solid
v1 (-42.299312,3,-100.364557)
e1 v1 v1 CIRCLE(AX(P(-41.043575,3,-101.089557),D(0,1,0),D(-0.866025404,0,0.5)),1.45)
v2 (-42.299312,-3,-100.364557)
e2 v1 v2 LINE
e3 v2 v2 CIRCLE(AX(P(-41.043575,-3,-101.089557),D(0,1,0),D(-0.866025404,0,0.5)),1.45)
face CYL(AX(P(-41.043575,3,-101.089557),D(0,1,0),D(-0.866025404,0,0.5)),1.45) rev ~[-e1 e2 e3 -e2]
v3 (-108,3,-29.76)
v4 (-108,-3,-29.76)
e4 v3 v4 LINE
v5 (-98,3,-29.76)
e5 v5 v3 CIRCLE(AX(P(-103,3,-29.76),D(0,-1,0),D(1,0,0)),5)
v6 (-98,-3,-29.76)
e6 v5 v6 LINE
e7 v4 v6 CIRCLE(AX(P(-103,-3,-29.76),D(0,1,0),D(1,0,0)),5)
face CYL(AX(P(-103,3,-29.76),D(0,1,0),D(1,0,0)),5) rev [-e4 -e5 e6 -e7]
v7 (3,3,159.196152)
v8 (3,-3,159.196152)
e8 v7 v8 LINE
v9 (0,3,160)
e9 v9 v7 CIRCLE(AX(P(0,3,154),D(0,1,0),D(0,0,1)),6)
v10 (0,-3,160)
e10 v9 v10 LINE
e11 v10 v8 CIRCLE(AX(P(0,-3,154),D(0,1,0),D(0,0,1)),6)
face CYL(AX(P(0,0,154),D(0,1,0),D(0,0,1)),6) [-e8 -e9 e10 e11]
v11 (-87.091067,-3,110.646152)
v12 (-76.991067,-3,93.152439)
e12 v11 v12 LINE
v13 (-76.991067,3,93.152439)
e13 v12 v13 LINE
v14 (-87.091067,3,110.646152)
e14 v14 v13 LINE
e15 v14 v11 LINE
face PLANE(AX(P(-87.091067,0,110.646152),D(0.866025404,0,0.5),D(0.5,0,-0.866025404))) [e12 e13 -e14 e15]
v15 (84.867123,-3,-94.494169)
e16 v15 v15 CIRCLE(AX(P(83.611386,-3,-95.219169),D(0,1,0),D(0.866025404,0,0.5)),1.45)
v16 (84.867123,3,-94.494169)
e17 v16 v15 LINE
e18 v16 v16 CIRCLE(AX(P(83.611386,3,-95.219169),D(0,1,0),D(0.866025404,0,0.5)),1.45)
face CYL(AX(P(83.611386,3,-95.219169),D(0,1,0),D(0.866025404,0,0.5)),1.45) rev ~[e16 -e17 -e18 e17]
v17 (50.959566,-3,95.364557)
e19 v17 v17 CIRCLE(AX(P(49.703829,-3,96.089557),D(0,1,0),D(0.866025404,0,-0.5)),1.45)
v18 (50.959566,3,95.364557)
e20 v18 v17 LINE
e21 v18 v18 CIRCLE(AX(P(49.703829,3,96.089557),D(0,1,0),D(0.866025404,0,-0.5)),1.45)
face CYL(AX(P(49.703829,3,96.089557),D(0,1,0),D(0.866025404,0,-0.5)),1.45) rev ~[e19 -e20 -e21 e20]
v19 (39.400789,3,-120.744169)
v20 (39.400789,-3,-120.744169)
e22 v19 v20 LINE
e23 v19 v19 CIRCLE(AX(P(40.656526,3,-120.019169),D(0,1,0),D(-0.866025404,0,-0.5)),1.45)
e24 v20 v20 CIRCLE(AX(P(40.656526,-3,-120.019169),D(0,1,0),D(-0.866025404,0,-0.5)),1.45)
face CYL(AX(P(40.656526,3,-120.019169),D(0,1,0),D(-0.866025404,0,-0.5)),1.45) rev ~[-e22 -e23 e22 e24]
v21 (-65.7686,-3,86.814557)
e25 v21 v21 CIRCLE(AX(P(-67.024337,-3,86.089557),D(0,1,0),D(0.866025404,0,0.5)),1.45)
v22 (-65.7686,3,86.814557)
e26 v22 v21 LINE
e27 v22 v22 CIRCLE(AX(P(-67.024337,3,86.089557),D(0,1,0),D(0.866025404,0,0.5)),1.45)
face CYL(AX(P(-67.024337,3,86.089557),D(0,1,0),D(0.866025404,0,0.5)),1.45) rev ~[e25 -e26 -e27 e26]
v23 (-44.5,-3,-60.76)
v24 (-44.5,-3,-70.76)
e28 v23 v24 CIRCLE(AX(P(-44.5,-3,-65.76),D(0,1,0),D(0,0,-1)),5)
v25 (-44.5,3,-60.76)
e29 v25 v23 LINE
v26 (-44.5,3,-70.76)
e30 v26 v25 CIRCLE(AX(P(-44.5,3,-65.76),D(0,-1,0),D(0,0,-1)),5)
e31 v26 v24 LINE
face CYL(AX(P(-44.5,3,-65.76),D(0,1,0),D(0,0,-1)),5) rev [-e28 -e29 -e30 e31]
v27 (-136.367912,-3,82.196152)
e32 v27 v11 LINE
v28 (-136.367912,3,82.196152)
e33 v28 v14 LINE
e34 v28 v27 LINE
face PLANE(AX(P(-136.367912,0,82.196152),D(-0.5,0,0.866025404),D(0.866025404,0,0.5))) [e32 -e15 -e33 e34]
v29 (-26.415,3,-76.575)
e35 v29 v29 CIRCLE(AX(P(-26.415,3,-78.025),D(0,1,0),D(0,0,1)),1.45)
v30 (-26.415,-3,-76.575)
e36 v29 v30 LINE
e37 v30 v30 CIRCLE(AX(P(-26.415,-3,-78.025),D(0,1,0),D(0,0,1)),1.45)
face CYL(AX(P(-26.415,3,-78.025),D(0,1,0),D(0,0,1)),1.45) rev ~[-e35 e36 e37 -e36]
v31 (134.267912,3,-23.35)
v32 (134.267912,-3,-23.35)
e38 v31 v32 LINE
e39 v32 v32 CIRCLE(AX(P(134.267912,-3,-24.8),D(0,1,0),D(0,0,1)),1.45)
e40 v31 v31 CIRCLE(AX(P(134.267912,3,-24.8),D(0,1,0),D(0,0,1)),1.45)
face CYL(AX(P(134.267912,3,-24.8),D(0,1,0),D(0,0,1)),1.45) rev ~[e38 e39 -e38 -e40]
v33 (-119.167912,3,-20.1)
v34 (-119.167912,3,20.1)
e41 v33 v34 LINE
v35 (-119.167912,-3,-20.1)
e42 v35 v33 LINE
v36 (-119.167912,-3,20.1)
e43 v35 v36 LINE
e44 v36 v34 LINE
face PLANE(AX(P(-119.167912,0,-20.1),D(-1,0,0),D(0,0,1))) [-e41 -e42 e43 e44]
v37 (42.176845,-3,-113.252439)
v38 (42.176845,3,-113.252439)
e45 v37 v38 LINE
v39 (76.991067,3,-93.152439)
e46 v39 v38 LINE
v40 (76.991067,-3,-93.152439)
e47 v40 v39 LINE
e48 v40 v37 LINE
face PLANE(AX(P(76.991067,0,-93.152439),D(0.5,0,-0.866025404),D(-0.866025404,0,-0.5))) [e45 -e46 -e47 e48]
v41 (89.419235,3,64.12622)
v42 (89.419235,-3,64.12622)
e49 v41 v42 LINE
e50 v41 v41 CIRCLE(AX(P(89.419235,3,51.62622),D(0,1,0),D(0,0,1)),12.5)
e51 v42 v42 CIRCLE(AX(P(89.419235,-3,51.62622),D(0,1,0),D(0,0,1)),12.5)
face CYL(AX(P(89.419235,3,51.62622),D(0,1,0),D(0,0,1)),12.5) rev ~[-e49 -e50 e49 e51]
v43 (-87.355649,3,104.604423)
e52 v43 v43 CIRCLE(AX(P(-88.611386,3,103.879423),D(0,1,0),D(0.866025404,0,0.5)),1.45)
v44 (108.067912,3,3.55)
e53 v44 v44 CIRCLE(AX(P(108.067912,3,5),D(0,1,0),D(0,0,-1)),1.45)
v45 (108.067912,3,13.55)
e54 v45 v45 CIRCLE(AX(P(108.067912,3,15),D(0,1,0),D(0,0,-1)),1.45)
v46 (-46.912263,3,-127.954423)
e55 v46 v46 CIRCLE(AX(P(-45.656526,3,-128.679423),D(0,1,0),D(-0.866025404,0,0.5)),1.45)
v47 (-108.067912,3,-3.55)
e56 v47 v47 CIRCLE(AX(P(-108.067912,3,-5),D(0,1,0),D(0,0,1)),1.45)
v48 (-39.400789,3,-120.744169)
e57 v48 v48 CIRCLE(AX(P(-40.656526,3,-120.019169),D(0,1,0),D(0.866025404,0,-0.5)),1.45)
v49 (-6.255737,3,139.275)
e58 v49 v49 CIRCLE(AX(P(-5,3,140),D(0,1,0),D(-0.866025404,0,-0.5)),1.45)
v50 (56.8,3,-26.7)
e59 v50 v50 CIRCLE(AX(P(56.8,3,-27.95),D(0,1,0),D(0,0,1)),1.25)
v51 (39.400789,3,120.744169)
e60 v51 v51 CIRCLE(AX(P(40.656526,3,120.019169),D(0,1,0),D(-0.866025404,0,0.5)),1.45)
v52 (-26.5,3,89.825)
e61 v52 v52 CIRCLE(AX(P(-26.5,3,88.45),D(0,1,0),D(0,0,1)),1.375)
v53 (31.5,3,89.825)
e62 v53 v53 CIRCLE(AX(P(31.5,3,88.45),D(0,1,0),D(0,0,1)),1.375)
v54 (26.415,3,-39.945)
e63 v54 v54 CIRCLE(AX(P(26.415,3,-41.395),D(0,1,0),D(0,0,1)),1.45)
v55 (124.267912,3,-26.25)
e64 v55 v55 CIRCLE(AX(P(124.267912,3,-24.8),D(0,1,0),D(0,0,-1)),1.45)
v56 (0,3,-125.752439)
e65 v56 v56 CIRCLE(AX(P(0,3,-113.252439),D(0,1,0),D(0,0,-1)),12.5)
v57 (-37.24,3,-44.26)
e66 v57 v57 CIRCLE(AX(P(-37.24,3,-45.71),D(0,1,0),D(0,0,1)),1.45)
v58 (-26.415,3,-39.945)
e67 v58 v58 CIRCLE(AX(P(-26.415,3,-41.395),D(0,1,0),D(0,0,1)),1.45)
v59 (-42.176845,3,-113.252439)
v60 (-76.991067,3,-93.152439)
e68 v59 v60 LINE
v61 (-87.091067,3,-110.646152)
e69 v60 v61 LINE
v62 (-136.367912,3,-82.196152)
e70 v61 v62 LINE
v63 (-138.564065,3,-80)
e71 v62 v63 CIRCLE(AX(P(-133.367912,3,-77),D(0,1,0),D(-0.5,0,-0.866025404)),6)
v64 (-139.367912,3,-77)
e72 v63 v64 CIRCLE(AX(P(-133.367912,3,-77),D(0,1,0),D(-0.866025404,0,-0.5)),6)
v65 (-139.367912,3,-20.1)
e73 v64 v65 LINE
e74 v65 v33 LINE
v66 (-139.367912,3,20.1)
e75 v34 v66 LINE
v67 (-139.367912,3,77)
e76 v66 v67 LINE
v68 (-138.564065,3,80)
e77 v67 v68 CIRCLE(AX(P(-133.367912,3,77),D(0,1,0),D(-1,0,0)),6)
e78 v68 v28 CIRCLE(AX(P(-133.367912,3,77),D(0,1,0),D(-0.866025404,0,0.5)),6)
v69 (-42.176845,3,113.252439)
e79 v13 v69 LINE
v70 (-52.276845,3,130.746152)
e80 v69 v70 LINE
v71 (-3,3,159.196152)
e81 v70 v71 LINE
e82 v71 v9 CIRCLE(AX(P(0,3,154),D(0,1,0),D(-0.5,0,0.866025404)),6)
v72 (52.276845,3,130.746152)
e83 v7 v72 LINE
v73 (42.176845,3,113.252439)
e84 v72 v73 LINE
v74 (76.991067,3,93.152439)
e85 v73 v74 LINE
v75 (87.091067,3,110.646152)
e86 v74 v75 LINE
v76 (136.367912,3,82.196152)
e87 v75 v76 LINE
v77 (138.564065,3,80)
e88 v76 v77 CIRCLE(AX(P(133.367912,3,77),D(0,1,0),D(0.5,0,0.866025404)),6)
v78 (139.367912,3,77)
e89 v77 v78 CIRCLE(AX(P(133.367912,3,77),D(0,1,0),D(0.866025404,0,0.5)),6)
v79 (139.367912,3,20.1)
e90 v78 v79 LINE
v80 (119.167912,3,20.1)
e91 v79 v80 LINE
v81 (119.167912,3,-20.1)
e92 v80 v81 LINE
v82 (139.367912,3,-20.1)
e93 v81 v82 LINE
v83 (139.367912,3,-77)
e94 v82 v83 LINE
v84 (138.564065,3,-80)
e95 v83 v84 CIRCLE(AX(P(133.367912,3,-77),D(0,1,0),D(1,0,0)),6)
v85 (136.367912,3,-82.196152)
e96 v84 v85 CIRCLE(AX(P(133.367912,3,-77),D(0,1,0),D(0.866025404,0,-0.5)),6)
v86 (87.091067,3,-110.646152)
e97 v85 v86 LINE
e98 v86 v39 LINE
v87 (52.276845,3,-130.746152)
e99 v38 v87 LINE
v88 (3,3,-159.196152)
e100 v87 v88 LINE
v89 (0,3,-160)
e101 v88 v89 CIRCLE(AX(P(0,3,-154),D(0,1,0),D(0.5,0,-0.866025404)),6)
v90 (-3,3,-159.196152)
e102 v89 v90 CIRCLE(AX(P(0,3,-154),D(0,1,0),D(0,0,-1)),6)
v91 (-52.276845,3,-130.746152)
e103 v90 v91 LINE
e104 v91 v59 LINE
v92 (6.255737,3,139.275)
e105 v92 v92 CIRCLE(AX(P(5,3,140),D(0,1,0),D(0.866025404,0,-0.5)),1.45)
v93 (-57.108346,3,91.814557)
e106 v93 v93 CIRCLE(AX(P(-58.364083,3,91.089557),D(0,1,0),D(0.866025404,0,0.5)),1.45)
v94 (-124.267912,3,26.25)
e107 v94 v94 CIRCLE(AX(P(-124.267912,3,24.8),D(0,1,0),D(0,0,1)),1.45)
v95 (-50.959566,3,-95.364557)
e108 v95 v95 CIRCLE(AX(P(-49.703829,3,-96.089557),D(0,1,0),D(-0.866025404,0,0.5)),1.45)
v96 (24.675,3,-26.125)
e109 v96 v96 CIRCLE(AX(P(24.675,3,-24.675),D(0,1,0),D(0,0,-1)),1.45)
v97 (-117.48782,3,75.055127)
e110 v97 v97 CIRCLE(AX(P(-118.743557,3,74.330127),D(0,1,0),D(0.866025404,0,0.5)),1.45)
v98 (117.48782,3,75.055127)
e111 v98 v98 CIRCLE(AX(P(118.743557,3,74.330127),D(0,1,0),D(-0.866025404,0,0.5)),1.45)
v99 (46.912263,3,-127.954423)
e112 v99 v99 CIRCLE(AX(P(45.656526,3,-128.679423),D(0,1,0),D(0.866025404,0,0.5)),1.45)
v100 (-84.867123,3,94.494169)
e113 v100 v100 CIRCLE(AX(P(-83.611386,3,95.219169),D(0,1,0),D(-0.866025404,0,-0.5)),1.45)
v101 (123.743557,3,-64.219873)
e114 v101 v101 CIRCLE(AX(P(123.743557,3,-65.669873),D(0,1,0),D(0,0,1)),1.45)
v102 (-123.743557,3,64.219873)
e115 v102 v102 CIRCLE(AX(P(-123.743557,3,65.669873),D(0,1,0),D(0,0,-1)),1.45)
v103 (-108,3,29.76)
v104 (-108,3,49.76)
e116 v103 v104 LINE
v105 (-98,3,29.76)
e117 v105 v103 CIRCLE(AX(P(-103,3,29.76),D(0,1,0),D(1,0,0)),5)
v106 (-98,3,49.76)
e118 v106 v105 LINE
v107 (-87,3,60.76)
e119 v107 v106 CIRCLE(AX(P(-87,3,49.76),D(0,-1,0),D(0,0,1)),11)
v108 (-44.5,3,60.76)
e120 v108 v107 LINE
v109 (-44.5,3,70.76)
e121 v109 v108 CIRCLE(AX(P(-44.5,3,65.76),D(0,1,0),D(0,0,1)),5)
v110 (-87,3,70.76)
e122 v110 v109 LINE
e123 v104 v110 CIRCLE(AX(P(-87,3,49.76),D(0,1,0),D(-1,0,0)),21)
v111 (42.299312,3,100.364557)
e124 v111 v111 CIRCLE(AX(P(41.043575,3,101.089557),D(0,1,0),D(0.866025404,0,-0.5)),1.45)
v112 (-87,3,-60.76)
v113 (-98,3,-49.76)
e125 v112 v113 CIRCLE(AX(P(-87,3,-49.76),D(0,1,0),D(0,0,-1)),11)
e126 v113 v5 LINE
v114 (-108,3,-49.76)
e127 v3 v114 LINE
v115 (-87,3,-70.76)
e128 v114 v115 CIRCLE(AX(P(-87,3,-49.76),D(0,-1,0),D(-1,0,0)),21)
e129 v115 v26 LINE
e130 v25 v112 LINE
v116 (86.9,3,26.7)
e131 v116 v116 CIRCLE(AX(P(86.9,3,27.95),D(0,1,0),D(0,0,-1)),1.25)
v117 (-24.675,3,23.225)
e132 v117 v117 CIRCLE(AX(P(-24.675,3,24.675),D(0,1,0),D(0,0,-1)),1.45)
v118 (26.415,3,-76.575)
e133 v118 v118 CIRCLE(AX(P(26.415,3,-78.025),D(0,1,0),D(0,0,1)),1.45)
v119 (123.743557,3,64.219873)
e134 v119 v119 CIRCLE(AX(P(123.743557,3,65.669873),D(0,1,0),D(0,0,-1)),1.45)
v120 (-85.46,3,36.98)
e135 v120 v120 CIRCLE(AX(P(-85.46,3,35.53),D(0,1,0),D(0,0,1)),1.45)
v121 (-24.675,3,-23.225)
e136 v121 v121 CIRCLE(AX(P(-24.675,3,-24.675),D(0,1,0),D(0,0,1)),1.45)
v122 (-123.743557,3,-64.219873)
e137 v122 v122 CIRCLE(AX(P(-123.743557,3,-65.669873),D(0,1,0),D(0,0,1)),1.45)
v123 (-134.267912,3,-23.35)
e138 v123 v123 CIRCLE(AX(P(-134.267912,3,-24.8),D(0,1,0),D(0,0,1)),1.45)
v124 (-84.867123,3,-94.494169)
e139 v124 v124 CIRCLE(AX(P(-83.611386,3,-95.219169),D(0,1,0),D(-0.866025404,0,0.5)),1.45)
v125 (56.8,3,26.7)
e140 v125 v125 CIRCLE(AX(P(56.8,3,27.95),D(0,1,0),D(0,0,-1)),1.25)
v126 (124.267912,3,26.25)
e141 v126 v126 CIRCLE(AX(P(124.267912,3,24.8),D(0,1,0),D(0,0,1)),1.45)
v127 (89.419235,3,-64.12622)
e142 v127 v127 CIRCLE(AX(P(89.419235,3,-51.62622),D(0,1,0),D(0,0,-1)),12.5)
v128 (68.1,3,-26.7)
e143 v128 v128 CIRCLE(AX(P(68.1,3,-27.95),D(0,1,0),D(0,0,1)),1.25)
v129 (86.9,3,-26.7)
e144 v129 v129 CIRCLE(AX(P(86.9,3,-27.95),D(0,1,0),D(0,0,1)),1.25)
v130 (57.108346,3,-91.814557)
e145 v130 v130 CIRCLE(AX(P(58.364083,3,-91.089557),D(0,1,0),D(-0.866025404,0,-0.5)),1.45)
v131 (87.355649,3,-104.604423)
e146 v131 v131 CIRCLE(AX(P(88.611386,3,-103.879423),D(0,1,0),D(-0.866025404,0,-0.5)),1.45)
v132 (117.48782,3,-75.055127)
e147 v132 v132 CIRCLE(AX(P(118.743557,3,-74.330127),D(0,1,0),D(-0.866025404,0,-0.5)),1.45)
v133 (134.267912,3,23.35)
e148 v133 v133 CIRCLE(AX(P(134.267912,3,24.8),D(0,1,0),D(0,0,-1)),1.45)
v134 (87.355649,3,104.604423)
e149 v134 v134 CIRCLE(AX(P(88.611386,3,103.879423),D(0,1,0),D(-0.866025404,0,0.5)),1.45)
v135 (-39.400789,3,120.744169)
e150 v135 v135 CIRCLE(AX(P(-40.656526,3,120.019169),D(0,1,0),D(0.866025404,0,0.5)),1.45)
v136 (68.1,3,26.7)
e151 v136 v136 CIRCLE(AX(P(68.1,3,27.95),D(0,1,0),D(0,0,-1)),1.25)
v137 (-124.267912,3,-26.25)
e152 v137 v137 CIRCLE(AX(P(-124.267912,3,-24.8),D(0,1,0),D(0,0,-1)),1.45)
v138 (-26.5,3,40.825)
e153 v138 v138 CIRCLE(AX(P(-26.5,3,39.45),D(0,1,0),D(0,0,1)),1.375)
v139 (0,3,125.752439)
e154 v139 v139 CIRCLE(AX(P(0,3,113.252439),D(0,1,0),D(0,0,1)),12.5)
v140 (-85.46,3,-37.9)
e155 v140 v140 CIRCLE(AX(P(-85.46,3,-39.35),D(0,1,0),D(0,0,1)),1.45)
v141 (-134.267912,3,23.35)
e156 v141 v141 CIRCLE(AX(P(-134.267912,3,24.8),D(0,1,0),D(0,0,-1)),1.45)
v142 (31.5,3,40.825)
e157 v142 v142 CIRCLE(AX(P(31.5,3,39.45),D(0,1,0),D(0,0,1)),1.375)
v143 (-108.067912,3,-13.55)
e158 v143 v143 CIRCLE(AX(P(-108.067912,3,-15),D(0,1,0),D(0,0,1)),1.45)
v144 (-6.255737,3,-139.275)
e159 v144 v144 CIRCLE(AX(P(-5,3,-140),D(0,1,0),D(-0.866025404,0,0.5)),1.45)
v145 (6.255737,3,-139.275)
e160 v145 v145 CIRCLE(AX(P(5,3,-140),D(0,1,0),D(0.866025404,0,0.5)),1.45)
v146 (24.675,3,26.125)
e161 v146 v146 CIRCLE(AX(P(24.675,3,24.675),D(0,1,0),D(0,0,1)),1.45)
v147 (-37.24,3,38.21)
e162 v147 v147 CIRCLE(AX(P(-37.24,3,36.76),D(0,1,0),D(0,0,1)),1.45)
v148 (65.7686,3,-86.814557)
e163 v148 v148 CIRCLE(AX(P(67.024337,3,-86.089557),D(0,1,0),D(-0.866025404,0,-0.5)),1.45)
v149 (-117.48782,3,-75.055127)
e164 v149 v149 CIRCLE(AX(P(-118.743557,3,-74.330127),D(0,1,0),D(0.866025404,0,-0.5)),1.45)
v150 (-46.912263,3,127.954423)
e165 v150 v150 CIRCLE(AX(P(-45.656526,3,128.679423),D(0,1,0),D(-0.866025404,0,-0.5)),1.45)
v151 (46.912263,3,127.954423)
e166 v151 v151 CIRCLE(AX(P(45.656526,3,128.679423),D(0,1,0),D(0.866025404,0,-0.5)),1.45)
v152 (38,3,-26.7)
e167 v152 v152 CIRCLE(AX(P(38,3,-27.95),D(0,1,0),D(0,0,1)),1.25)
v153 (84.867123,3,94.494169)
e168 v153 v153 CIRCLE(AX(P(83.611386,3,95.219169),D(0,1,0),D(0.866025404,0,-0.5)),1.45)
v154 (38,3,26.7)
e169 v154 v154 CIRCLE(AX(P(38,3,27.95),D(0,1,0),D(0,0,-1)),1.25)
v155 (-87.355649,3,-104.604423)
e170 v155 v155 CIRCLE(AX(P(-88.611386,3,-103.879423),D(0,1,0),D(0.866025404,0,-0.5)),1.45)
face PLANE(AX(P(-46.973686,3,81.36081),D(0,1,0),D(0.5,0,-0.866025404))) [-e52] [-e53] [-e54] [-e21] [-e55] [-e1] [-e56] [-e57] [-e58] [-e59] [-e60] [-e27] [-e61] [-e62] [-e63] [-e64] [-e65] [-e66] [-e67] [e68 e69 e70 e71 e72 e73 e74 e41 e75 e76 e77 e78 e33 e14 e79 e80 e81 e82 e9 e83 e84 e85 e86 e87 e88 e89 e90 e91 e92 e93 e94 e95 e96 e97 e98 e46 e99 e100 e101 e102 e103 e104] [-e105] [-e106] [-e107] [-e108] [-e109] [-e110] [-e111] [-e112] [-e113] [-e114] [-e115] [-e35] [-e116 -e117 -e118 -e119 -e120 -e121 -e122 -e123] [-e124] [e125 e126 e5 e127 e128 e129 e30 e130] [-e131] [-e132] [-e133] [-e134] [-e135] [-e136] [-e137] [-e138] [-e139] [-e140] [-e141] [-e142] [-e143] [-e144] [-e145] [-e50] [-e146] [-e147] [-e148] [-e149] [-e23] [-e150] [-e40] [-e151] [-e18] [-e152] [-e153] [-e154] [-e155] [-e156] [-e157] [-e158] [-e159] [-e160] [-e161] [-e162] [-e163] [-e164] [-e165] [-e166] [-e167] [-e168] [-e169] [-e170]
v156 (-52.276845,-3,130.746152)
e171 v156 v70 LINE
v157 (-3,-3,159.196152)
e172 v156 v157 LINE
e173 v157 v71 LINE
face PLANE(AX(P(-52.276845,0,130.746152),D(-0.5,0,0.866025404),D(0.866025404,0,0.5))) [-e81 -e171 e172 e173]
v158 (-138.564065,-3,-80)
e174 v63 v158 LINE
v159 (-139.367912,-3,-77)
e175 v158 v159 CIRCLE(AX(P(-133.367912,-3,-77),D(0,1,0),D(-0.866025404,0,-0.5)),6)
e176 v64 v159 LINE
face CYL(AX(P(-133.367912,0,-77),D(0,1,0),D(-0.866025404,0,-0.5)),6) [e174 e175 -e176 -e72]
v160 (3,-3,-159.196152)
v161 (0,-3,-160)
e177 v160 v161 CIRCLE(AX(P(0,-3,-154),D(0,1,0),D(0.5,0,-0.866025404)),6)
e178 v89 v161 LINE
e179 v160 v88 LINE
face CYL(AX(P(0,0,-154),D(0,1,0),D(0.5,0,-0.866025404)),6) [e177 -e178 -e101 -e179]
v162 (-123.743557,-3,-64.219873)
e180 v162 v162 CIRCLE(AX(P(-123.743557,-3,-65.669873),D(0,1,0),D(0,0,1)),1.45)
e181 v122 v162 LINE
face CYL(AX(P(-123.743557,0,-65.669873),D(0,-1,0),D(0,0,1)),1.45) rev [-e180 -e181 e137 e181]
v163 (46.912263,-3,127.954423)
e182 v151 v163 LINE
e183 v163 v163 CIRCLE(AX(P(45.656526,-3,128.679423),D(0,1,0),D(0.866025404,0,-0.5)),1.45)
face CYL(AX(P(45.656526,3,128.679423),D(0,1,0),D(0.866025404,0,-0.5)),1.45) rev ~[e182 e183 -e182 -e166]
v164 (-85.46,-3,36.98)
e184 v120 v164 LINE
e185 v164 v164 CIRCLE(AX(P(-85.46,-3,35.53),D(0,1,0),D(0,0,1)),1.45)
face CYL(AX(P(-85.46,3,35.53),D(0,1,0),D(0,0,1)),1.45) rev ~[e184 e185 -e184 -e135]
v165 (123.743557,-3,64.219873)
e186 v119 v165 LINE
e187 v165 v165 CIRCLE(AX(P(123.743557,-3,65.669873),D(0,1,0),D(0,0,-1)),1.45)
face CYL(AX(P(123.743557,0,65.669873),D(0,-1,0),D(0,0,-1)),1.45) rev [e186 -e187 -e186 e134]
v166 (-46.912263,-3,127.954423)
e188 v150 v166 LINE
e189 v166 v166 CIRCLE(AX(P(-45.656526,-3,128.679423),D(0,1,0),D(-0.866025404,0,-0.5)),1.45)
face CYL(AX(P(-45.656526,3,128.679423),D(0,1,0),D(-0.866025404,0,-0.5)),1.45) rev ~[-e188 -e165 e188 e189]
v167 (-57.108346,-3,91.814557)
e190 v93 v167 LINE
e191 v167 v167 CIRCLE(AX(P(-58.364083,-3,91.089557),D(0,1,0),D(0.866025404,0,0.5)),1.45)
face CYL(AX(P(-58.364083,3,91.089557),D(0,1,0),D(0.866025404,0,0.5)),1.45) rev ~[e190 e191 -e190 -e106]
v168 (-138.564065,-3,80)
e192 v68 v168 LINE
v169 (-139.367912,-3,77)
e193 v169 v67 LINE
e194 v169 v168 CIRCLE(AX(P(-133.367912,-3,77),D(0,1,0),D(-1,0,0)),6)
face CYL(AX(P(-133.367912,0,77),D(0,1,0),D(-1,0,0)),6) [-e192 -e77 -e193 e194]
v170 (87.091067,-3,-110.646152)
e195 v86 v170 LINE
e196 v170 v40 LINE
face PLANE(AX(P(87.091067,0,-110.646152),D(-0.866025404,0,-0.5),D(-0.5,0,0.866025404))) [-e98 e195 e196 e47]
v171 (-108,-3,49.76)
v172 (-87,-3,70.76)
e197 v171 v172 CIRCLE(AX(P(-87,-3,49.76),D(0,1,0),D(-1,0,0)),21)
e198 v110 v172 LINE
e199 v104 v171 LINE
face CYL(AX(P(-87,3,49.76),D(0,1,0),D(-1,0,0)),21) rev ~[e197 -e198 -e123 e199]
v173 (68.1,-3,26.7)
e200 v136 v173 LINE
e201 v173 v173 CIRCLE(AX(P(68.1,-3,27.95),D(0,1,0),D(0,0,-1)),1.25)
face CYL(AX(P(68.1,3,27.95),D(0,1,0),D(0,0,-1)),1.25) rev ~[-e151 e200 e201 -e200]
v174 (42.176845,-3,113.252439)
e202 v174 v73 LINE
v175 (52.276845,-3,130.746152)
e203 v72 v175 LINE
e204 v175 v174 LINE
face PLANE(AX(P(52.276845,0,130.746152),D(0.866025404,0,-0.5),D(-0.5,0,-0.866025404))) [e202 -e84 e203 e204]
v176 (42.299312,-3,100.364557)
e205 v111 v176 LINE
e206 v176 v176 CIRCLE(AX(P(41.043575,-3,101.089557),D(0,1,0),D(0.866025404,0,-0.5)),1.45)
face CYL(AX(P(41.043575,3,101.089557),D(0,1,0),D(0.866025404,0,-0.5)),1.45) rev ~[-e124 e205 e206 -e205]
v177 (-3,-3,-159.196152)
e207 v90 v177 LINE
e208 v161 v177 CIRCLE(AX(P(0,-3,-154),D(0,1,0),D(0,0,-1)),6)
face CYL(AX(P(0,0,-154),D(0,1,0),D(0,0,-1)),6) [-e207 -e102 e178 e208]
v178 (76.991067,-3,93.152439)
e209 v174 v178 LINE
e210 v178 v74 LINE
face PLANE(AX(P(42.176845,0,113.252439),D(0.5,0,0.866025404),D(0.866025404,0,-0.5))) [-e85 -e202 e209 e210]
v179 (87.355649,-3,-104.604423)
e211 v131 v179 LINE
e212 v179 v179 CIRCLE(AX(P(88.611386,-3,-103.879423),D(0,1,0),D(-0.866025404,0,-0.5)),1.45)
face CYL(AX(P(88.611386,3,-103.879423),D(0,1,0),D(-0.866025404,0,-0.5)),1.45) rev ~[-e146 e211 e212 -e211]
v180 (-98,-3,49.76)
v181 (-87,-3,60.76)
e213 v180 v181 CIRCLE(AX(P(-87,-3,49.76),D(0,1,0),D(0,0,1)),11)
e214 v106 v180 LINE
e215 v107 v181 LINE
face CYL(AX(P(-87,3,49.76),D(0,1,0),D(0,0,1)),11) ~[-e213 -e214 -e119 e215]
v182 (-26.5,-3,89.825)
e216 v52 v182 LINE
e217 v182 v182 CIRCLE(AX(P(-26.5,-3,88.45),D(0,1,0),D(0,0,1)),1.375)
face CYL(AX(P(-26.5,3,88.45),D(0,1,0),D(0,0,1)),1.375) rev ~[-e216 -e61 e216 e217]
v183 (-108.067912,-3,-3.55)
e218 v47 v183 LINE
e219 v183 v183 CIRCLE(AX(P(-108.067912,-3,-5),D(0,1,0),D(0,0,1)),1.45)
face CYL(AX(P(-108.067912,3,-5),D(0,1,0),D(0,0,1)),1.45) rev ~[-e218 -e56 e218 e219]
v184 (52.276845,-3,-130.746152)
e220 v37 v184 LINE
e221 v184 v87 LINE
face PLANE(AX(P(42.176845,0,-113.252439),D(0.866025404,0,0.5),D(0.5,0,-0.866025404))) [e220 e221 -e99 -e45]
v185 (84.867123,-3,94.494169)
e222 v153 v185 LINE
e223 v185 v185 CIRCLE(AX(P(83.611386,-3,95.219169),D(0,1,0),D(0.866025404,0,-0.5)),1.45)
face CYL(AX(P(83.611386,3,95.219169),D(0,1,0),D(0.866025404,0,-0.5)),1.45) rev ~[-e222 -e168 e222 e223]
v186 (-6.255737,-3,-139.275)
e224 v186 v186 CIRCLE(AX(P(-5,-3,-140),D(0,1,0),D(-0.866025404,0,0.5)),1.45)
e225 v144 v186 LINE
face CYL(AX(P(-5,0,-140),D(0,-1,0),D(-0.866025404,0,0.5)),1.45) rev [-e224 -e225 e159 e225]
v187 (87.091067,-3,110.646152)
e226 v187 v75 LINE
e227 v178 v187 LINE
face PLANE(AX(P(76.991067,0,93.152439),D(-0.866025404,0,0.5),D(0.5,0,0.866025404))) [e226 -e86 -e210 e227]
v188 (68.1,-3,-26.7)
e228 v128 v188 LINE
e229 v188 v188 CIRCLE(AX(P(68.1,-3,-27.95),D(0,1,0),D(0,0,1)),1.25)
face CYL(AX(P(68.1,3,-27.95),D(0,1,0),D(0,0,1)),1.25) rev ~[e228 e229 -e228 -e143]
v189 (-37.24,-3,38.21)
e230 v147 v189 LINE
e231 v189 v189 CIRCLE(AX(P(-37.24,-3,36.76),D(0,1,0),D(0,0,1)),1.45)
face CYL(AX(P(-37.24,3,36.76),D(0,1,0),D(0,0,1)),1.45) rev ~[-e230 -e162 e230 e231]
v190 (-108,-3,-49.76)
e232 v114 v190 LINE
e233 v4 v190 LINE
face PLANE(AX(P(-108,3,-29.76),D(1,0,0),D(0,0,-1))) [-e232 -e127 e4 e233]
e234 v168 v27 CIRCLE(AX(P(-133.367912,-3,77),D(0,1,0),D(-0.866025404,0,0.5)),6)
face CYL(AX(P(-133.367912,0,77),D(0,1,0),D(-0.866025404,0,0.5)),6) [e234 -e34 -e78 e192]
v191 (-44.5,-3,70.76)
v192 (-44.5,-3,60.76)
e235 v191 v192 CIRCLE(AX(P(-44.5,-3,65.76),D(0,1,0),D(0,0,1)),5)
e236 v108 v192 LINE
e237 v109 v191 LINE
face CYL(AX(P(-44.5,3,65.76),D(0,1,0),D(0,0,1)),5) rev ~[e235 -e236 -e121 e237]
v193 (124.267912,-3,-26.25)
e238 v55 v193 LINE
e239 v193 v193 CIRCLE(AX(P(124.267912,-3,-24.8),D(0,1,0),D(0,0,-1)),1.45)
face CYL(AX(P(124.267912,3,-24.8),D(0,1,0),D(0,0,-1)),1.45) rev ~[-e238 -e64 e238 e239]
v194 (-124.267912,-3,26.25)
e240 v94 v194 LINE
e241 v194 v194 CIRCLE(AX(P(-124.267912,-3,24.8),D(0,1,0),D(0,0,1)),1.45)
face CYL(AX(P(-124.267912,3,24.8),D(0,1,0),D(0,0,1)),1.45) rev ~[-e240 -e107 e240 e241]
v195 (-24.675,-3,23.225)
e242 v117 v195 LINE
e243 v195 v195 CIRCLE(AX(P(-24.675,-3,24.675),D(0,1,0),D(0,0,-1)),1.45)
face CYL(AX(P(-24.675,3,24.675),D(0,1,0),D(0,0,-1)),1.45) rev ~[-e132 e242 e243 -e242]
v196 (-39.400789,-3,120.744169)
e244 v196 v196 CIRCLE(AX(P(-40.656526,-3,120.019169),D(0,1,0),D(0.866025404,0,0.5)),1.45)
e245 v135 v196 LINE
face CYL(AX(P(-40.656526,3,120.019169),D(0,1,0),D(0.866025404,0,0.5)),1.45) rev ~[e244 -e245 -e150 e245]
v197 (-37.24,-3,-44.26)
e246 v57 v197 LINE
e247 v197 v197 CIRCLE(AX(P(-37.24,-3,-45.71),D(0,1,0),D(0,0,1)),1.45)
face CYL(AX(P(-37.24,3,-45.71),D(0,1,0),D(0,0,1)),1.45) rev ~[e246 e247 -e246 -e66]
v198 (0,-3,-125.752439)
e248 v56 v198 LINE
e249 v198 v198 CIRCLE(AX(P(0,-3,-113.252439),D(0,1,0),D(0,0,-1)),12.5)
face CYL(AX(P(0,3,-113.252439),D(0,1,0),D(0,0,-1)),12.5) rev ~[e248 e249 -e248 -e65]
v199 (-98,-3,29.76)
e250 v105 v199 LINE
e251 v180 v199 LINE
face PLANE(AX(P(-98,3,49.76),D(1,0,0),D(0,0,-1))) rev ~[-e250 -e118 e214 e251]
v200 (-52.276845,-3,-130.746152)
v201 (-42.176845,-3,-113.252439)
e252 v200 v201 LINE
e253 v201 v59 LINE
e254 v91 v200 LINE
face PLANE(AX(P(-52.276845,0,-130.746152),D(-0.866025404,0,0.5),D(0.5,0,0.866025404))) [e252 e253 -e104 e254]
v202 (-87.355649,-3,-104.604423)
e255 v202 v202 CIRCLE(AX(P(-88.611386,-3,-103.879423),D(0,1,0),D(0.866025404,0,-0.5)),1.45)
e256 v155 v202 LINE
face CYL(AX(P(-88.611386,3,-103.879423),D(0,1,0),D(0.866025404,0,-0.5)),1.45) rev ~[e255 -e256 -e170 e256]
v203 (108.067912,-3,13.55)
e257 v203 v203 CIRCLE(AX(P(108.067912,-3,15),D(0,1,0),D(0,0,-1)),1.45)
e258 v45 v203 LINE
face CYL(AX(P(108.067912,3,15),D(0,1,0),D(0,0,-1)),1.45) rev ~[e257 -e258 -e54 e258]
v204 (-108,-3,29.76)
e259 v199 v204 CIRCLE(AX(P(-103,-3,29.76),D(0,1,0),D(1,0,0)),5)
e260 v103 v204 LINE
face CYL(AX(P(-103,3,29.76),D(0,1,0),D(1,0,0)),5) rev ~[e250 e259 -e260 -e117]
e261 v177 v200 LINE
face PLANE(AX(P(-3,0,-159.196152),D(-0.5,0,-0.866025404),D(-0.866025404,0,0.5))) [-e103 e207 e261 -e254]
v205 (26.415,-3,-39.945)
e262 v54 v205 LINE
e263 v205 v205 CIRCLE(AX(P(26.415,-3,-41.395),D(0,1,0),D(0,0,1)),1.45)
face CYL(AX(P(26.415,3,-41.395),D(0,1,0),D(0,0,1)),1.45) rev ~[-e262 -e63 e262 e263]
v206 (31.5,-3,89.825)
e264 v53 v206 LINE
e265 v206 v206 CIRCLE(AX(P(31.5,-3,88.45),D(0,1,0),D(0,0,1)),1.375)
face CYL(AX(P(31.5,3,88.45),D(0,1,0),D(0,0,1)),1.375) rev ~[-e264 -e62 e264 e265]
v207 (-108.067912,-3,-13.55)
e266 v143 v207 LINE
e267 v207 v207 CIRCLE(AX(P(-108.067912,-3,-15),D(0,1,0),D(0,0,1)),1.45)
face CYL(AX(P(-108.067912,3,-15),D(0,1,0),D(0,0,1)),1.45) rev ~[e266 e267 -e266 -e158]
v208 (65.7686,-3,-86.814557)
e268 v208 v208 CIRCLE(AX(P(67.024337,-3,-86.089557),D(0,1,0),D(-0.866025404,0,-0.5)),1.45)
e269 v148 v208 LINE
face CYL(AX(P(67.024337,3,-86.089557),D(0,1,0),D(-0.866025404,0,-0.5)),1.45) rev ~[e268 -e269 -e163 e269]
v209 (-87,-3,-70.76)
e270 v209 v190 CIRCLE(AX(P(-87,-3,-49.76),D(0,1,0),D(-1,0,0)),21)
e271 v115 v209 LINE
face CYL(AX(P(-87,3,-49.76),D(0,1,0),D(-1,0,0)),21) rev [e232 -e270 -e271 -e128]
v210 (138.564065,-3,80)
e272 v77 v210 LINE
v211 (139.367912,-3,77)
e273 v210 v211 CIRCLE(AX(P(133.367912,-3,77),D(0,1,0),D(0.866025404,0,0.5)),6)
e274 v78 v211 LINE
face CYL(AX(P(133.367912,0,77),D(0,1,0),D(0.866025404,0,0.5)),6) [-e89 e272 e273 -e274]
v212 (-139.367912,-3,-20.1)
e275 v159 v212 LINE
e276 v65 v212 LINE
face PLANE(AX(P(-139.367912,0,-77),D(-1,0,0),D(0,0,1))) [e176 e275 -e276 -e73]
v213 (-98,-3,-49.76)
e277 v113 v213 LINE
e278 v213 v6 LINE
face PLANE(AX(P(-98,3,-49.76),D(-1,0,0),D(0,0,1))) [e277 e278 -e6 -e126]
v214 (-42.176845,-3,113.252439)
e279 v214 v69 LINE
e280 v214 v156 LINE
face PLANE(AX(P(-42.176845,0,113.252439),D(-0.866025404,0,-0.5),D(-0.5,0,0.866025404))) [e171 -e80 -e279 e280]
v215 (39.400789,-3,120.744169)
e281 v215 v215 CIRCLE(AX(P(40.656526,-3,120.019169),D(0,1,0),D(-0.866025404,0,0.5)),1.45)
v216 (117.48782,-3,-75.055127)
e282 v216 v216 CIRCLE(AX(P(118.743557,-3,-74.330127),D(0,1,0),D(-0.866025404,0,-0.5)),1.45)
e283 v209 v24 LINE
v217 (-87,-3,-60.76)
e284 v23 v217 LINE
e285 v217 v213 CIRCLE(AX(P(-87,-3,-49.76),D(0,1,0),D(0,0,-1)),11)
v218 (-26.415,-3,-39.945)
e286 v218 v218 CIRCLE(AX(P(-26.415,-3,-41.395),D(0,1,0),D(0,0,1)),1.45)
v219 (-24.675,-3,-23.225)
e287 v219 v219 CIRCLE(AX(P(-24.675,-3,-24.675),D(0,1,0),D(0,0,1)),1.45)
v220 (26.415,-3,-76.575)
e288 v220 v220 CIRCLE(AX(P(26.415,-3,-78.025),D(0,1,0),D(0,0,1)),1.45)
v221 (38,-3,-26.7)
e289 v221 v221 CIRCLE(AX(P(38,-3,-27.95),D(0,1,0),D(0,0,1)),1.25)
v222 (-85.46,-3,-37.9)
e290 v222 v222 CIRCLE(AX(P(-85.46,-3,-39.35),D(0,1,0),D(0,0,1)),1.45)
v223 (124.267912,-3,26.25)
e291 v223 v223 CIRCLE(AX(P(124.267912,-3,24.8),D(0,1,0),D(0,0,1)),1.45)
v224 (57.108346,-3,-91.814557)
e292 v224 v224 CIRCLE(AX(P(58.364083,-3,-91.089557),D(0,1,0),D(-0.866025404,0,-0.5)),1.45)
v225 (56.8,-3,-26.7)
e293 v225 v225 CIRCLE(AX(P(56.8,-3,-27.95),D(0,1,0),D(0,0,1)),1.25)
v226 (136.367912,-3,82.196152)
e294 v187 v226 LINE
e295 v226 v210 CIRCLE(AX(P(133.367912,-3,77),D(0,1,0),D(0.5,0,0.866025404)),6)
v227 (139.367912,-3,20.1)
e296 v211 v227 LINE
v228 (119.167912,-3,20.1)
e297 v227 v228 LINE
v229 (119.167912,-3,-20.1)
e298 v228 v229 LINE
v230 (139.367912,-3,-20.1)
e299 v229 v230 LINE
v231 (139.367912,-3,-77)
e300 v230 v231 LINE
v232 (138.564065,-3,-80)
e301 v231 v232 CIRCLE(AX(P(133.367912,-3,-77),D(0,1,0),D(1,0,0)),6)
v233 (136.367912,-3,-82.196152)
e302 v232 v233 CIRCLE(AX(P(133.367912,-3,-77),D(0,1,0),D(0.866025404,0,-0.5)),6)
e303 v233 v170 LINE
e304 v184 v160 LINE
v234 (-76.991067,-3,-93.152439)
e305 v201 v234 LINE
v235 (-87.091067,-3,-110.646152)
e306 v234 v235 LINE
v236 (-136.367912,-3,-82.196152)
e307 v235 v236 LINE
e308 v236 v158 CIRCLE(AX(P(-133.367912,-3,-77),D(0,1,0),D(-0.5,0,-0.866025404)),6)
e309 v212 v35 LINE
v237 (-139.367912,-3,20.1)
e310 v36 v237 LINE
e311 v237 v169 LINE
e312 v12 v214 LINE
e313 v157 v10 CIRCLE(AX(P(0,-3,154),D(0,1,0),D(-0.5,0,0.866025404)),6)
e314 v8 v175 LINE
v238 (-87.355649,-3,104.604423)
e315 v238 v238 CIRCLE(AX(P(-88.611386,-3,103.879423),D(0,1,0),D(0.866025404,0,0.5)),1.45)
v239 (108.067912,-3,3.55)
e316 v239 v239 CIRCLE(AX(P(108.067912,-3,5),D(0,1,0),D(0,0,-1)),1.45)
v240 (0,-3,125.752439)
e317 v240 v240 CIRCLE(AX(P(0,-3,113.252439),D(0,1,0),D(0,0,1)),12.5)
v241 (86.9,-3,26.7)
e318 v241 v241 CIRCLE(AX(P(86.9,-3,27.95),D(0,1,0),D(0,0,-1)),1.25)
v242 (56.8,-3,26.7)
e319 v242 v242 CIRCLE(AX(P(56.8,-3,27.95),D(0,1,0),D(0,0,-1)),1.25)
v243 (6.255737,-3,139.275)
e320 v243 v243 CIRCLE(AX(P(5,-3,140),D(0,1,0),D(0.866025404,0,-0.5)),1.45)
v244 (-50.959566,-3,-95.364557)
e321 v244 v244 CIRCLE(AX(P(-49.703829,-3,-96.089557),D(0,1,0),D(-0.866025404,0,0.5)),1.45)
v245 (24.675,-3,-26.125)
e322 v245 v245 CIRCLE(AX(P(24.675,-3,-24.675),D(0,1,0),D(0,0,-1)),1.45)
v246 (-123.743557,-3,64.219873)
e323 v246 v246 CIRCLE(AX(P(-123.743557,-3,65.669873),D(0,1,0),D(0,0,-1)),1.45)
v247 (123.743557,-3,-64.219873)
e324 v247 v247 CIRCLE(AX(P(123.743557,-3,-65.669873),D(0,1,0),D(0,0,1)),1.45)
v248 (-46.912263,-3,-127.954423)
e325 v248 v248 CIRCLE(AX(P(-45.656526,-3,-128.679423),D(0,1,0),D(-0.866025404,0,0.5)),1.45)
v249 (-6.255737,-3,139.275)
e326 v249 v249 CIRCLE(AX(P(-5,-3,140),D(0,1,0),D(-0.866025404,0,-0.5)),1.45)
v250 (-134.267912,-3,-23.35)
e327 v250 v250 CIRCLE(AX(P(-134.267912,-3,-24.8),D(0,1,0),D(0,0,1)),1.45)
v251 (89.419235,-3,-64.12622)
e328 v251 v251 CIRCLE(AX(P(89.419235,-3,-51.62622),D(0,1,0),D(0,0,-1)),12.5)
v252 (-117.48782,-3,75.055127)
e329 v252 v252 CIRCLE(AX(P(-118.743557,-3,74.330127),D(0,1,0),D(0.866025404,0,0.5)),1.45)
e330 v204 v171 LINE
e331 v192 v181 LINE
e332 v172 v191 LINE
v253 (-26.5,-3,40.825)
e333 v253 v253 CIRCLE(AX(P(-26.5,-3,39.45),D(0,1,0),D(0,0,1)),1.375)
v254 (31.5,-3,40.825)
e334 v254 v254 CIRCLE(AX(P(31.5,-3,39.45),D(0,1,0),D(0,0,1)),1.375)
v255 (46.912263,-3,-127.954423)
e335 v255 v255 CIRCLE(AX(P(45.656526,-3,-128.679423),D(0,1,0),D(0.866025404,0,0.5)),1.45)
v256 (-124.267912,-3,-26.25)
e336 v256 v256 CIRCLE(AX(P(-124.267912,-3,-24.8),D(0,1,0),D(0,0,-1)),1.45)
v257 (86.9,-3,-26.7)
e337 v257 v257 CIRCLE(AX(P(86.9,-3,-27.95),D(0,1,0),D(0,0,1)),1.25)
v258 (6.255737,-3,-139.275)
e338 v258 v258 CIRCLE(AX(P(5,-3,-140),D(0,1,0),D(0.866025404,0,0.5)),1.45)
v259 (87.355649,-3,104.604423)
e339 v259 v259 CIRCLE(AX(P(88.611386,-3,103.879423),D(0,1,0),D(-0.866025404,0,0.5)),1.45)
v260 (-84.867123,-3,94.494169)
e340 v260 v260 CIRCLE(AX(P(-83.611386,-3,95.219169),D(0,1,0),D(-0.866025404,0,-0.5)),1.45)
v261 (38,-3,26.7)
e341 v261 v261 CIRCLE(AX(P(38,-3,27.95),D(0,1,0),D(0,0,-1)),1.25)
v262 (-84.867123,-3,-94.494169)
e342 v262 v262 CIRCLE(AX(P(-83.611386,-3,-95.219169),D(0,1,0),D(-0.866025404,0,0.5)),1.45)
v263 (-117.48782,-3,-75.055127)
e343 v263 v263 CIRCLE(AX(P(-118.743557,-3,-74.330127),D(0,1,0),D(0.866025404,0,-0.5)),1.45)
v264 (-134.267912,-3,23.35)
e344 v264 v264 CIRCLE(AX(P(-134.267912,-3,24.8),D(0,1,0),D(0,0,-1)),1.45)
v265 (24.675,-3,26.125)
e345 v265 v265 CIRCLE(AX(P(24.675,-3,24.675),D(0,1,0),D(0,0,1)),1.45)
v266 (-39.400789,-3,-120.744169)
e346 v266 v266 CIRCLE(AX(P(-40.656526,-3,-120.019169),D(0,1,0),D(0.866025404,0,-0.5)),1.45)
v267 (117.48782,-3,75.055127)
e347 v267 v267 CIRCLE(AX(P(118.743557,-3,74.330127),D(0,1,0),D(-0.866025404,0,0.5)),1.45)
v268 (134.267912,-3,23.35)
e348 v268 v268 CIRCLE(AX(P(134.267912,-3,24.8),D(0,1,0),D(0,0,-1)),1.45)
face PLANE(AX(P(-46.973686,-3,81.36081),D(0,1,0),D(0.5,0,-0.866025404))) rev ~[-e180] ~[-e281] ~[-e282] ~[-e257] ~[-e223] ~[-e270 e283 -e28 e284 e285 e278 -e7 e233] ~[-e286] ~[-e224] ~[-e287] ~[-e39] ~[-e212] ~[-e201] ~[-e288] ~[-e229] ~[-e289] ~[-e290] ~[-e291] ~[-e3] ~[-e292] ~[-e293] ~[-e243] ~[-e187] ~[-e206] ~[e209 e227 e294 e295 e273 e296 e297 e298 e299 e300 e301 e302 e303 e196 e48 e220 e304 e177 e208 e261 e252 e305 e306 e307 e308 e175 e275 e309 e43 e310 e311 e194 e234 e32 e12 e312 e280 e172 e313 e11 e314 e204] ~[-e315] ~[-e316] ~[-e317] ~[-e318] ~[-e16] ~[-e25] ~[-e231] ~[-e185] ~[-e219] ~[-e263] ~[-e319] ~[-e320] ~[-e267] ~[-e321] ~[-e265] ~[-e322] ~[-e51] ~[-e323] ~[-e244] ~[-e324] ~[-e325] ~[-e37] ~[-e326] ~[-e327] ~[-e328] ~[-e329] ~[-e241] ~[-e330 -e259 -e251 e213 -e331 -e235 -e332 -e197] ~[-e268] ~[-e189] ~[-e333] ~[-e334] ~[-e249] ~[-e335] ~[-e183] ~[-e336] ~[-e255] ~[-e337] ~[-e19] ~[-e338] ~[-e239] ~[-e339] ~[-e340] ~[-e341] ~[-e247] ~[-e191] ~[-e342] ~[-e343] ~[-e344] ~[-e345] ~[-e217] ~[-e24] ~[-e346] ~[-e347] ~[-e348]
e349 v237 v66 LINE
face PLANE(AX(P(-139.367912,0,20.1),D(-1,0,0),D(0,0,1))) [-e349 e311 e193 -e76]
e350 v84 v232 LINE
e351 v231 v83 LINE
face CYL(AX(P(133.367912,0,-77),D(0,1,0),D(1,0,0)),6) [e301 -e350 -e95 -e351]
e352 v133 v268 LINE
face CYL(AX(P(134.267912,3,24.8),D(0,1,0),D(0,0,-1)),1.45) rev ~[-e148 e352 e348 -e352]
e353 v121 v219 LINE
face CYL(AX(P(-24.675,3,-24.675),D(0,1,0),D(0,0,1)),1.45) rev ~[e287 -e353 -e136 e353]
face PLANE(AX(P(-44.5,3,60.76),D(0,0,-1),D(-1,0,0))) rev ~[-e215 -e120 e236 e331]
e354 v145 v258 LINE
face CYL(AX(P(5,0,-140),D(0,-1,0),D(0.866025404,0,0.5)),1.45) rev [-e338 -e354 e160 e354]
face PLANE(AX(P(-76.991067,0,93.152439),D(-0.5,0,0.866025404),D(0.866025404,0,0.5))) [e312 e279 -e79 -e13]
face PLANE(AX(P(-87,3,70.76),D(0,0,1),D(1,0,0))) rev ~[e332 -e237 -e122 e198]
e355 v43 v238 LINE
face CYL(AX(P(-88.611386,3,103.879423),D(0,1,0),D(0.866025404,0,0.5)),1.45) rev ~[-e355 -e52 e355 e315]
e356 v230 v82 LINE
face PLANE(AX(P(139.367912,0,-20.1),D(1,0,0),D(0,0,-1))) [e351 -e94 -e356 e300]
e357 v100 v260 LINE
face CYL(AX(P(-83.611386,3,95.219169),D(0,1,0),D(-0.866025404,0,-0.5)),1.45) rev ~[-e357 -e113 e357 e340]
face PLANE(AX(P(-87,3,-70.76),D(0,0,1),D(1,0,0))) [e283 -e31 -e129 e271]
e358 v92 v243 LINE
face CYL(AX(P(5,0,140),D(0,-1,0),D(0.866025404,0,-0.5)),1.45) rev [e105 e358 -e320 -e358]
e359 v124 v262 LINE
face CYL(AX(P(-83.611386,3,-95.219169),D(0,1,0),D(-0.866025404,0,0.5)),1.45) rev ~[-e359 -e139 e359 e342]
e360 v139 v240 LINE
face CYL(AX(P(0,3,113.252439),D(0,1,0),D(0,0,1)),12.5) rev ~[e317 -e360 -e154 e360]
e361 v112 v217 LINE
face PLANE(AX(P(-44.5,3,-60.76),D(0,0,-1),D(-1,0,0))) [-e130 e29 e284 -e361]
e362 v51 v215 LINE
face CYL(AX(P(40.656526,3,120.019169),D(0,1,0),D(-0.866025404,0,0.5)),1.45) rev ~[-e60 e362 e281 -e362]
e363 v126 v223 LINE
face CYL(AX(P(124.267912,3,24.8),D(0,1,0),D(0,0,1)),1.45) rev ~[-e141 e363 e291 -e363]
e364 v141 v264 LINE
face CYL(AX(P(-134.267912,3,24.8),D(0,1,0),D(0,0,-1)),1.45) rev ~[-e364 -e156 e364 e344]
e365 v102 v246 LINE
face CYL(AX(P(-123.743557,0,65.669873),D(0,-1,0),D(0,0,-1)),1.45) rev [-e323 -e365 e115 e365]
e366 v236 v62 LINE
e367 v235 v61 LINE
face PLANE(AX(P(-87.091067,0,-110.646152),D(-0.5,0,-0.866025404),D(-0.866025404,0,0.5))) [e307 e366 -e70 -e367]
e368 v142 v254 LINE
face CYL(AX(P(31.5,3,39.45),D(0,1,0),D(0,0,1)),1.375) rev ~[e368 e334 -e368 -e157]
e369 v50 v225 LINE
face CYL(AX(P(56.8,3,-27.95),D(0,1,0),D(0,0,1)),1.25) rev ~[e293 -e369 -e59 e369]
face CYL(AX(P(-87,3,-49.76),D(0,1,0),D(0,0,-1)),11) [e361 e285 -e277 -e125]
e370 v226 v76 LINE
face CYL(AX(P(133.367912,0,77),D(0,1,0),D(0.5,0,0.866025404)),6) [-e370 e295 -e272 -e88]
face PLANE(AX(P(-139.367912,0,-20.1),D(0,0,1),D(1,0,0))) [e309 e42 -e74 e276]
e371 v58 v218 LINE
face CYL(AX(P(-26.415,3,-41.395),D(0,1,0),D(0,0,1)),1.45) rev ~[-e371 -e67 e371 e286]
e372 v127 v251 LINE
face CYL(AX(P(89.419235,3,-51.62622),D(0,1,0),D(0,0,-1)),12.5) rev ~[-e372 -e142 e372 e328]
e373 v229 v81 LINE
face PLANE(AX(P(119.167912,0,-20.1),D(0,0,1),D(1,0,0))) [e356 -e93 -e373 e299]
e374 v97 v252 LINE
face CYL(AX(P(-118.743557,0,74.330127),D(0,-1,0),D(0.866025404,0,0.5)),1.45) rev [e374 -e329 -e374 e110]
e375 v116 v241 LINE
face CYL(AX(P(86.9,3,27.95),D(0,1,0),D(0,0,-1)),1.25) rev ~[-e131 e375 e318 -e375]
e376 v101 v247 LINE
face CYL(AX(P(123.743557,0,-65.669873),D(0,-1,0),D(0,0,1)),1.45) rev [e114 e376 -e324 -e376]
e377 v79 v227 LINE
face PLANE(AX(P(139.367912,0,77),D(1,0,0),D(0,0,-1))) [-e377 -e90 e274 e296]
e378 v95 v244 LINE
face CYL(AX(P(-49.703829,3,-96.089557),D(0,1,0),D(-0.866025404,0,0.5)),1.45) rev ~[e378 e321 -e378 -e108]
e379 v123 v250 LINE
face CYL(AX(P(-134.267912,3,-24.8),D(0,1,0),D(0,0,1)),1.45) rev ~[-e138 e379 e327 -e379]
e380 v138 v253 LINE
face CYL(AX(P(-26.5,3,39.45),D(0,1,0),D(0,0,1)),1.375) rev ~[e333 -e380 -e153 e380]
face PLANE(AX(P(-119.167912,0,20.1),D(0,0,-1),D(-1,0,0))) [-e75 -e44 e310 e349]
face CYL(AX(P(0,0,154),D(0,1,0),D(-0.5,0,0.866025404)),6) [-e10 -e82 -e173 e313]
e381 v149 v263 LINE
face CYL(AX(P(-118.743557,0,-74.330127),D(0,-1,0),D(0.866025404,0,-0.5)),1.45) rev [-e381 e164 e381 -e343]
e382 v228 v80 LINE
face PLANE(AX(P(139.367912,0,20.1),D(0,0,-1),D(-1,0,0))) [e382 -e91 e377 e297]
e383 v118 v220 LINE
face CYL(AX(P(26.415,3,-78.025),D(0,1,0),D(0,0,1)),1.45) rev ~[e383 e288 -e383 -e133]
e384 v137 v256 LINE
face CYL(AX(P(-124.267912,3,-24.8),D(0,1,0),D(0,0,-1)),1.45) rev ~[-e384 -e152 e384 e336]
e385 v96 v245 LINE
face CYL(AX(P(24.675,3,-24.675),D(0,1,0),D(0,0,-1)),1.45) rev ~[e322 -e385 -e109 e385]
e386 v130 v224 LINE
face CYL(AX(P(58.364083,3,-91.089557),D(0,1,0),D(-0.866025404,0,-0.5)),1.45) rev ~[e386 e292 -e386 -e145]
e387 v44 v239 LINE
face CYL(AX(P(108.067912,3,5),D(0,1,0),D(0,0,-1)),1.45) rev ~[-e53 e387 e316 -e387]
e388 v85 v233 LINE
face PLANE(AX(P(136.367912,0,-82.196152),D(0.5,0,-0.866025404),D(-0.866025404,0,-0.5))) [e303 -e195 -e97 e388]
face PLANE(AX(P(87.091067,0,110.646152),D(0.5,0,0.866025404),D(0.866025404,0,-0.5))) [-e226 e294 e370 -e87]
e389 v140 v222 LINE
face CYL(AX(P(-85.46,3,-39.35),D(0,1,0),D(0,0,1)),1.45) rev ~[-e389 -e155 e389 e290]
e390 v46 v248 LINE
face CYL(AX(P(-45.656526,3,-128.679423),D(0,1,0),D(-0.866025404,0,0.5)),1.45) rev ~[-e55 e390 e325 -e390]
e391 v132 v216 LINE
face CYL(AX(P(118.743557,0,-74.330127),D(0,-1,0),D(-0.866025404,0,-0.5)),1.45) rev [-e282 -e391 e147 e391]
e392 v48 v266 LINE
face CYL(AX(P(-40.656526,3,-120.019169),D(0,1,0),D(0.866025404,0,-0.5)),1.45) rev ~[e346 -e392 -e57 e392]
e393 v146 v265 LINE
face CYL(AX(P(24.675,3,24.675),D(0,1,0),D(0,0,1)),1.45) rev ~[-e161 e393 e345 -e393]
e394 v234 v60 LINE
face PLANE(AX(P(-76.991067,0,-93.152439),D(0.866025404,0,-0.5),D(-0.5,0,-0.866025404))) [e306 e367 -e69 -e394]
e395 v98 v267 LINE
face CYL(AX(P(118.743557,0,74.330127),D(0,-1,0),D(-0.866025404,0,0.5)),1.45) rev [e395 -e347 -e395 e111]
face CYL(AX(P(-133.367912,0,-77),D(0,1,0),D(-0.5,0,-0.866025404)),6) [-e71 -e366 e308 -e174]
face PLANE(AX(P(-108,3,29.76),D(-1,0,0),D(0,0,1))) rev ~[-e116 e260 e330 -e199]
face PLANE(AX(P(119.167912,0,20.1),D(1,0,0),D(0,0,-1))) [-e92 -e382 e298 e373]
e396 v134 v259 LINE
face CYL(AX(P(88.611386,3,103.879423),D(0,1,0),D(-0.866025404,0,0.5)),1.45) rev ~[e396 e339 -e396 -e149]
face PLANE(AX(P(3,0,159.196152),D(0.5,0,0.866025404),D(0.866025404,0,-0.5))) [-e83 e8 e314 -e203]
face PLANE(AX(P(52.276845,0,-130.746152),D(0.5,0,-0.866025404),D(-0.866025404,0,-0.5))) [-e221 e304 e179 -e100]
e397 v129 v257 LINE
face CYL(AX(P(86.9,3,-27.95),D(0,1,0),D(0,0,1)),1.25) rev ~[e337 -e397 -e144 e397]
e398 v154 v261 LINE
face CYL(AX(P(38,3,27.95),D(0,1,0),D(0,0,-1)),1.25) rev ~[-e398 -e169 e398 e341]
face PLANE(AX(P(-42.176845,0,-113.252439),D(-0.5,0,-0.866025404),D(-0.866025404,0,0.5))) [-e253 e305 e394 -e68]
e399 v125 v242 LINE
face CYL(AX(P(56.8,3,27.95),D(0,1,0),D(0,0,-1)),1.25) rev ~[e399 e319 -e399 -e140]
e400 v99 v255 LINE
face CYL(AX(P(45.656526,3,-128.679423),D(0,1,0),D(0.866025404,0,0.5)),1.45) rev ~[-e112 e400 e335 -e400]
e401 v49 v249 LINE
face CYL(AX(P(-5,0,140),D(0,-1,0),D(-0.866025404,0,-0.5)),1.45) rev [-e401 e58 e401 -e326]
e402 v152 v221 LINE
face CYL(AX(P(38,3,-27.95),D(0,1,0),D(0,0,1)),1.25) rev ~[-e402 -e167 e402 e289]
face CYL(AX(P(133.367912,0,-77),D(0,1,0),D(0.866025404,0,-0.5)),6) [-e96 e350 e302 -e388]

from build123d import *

# Parameters (mm, degrees)
SKETCH1_R           = 1.45
BOSS_EXTRUDE2_DEPTH = 3
SKETCH2_R           = 1.45
CUT_EXTRUDE1_DEPTH  = 161.808628333
CIRPATTERN7_COUNT   = 6
SKETCH3_R           = 1.45
CUT_EXTRUDE2_DEPTH  = 213.272030532
SKETCH4_R           = 1.25
CUT_EXTRUDE3_DEPTH  = 213.272030532
SKETCH5_R           = 1.45
CUT_EXTRUDE4_DEPTH  = 213.272030532
SKETCH6_R           = 1.375
CUT_EXTRUDE5_DEPTH  = 213.272030532
SKETCH7_R           = 1.45
CUT_EXTRUDE6_DEPTH  = 213.272030532
SKETCH9_R           = 12.5
CUT_EXTRUDE7_DEPTH  = 213.272030532
SKETCH10_R          = 12.5
CUT_EXTRUDE8_DEPTH  = 213.272030532


with BuildPart() as part:
    # Sketch1 → Boss-Extrude2 (new, symmetric)
    with BuildSketch(Plane(origin=(0, 0, 0), x_dir=(1, 0, 0), z_dir=(0, 1, 0))):
        with BuildLine():
            Line((-139.367912183, 20.1), (-119.167912183, 20.1))
            Line((-119.167912183, 20.1), (-119.167912183, -20.1))
            Line((-119.167912183, -20.1), (-139.367912183, -20.1))
            Line((-139.367912183, -20.1), (-139.367912183, -77))
            ThreePointArc((-139.367912183, -77), (-139.163467141, -78.552914271), (-138.564064606, -80))
            Line((-138.564064606, -80), (0, 0))
            Line((0, 0), (-138.564064606, 80))
            ThreePointArc((-138.564064606, 80), (-139.163467141, 78.552914271), (-139.367912183, 77))
            Line((-139.367912183, 77), (-139.367912183, 20.1))
        make_face()
        with Locations(Location((-123.74355653, 65.669872981, 0), (0, 0, 270))):
            Circle(SKETCH1_R, mode=Mode.SUBTRACT)
        with Locations(Location((-123.74355653, -65.669872981, 0), (0, 0, 90))):
            Circle(SKETCH1_R, mode=Mode.SUBTRACT)
    boss_extrude2 = extrude(amount=BOSS_EXTRUDE2_DEPTH, both=True)

    # Sketch2 → Cut-Extrude1 (cut, through all)
    with BuildSketch(Plane(origin=(0, 3, 0), x_dir=(1, 0, 0), z_dir=(0, 1, 0))):
        with Locations(Location((-134.267912183, 24.8, 0), (0, 0, 270))):
            Circle(SKETCH2_R)
        with Locations(Location((-124.267912183, 24.8, 0), (0, 0, 90))):
            Circle(SKETCH2_R)
        with Locations(Location((-124.267912183, -24.8, 0), (0, 0, 270))):
            Circle(SKETCH2_R)
        with Locations(Location((-134.267912183, -24.8, 0), (0, 0, 90))):
            Circle(SKETCH2_R)
        with Locations(Location((-108.067912183, 15, 0), (0, 0, 270))):
            Circle(SKETCH2_R)
        with Locations(Location((-108.067912183, 5, 0), (0, 0, 270))):
            Circle(SKETCH2_R)
    cut_extrude1 = extrude(amount=-CUT_EXTRUDE1_DEPTH, mode=Mode.SUBTRACT)

    # CirPattern7: Boss-Extrude2, Cut-Extrude1 ×6 about axis
    cirpattern7_axis = Axis((0, 0, 0), (0, 1, 0))
    add([boss_extrude2.rotate(cirpattern7_axis, i * 360 / CIRPATTERN7_COUNT) for i in range(1, CIRPATTERN7_COUNT)])
    add([cut_extrude1.rotate(cirpattern7_axis, i * 360 / CIRPATTERN7_COUNT) for i in range(1, CIRPATTERN7_COUNT)], mode=Mode.SUBTRACT)

    # Sketch3 → Cut-Extrude2 (cut, through all)
    with BuildSketch(Plane(origin=(0, 3, 0), x_dir=(1, 0, 0), z_dir=(0, 1, 0))):
        with Locations(Location((-24.675, 24.675, 0), (0, 0, 270))):
            Circle(SKETCH3_R)
        with Locations(Location((24.675, 24.675, 0), (0, 0, 90))):
            Circle(SKETCH3_R)
        with Locations(Location((24.675, -24.675, 0), (0, 0, 270))):
            Circle(SKETCH3_R)
        with Locations(Location((-24.675, -24.675, 0), (0, 0, 90))):
            Circle(SKETCH3_R)
    extrude(amount=-CUT_EXTRUDE2_DEPTH, mode=Mode.SUBTRACT)

    # Sketch4 → Cut-Extrude3 (cut, through all)
    with BuildSketch(Plane(origin=(0, 3, 0), x_dir=(1, 0, 0), z_dir=(0, 1, 0))):
        with Locations(Location((38, 27.95, 0), (0, 0, 270))):
            Circle(SKETCH4_R)
        with Locations(Location((56.8, 27.95, 0), (0, 0, 270))):
            Circle(SKETCH4_R)
        with Locations(Location((68.1, 27.95, 0), (0, 0, 270))):
            Circle(SKETCH4_R)
        with Locations(Location((86.9, 27.95, 0), (0, 0, 270))):
            Circle(SKETCH4_R)
        with Locations(Location((86.9, -27.95, 0), (0, 0, 90))):
            Circle(SKETCH4_R)
        with Locations(Location((68.1, -27.95, 0), (0, 0, 90))):
            Circle(SKETCH4_R)
        with Locations(Location((56.8, -27.95, 0), (0, 0, 90))):
            Circle(SKETCH4_R)
        with Locations(Location((38, -27.95, 0), (0, 0, 90))):
            Circle(SKETCH4_R)
    extrude(amount=-CUT_EXTRUDE3_DEPTH, mode=Mode.SUBTRACT)

    # Sketch5 → Cut-Extrude4 (cut, through all)
    with BuildSketch(Plane(origin=(0, 3, 0), x_dir=(1, 0, 0), z_dir=(0, 1, 0))):
        with Locations(Location((-85.46, -35.53, 0), (0, 0, 270))):
            Circle(SKETCH5_R)
        with Locations(Location((-85.46, 39.35, 0), (0, 0, 270))):
            Circle(SKETCH5_R)
        with Locations(Location((-37.24, 45.71, 0), (0, 0, 270))):
            Circle(SKETCH5_R)
        with Locations(Location((-37.24, -36.76, 0), (0, 0, 270))):
            Circle(SKETCH5_R)
    extrude(amount=-CUT_EXTRUDE4_DEPTH, mode=Mode.SUBTRACT)

    # Sketch6 → Cut-Extrude5 (cut, through all)
    with BuildSketch(Plane(origin=(0, 3, 0), x_dir=(1, 0, 0), z_dir=(0, 1, 0))):
        with Locations(Location((-26.5, -39.45, 0), (0, 0, 270))):
            Circle(SKETCH6_R)
        with Locations(Location((31.5, -39.45, 0), (0, 0, 270))):
            Circle(SKETCH6_R)
        with Locations(Location((31.5, -88.45, 0), (0, 0, 270))):
            Circle(SKETCH6_R)
        with Locations(Location((-26.5, -88.45, 0), (0, 0, 270))):
            Circle(SKETCH6_R)
    extrude(amount=-CUT_EXTRUDE5_DEPTH, mode=Mode.SUBTRACT)

    # Sketch7 → Cut-Extrude6 (cut, through all)
    with BuildSketch(Plane(origin=(0, 3, 0), x_dir=(1, 0, 0), z_dir=(0, 1, 0))):
        with Locations(Location((-26.415, 78.025, 0), (0, 0, 270))):
            Circle(SKETCH7_R)
        with Locations(Location((26.415, 78.025, 0), (0, 0, 270))):
            Circle(SKETCH7_R)
        with Locations(Location((26.415, 41.395, 0), (0, 0, 270))):
            Circle(SKETCH7_R)
        with Locations(Location((-26.415, 41.395, 0), (0, 0, 270))):
            Circle(SKETCH7_R)
    extrude(amount=-CUT_EXTRUDE6_DEPTH, mode=Mode.SUBTRACT)

    # Sketch9 → Cut-Extrude7 (cut, through all)
    with BuildSketch(Plane(origin=(0, 3, 0), x_dir=(1, 0, 0), z_dir=(0, 1, 0))):
        with Locations(Location((89.419235407, -51.626219633, 0), (0, 0, 270))):
            Circle(SKETCH9_R)
        with Locations(Location((89.419235407, 51.626219633, 0), (0, 0, 90))):
            Circle(SKETCH9_R)
        with BuildLine():
            Line((-108, -29.76), (-108, -49.76))
            ThreePointArc((-108, -49.76), (-101.849242405, -64.609242405), (-87, -70.76))
            Line((-87, -70.76), (-44.5, -70.76))
            ThreePointArc((-44.5, -70.76), (-39.5, -65.76), (-44.5, -60.76))
            Line((-44.5, -60.76), (-87, -60.76))
            ThreePointArc((-87, -60.76), (-94.778174593, -57.538174593), (-98, -49.76))
            Line((-98, -49.76), (-98, -29.76))
            ThreePointArc((-98, -29.76), (-103, -24.76), (-108, -29.76))
        make_face()
        with BuildLine():
            Line((-98, 49.76), (-98, 29.76))
            ThreePointArc((-98, 29.76), (-103, 24.76), (-108, 29.76))
            Line((-108, 29.76), (-108, 49.76))
            ThreePointArc((-108, 49.76), (-101.849242405, 64.609242405), (-87, 70.76))
            Line((-87, 70.76), (-44.5, 70.76))
            ThreePointArc((-44.5, 70.76), (-39.5, 65.76), (-44.5, 60.76))
            Line((-44.5, 60.76), (-87, 60.76))
            ThreePointArc((-87, 60.76), (-94.778174593, 57.538174593), (-98, 49.76))
        make_face()
    extrude(amount=-CUT_EXTRUDE7_DEPTH, mode=Mode.SUBTRACT)

    # Sketch10 → Cut-Extrude8 (cut, through all)
    with BuildSketch(Plane(origin=(0, 3, 0), x_dir=(1, 0, 0), z_dir=(0, 1, 0))):
        with Locations(Location((0, -113.252439266, 0), (0, 0, 270))):
            Circle(SKETCH10_R)
        with Locations(Location((0, 113.252439266, 0), (0, 0, 90))):
            Circle(SKETCH10_R)
    extrude(amount=-CUT_EXTRUDE8_DEPTH, mode=Mode.SUBTRACT)


solid = part.part
